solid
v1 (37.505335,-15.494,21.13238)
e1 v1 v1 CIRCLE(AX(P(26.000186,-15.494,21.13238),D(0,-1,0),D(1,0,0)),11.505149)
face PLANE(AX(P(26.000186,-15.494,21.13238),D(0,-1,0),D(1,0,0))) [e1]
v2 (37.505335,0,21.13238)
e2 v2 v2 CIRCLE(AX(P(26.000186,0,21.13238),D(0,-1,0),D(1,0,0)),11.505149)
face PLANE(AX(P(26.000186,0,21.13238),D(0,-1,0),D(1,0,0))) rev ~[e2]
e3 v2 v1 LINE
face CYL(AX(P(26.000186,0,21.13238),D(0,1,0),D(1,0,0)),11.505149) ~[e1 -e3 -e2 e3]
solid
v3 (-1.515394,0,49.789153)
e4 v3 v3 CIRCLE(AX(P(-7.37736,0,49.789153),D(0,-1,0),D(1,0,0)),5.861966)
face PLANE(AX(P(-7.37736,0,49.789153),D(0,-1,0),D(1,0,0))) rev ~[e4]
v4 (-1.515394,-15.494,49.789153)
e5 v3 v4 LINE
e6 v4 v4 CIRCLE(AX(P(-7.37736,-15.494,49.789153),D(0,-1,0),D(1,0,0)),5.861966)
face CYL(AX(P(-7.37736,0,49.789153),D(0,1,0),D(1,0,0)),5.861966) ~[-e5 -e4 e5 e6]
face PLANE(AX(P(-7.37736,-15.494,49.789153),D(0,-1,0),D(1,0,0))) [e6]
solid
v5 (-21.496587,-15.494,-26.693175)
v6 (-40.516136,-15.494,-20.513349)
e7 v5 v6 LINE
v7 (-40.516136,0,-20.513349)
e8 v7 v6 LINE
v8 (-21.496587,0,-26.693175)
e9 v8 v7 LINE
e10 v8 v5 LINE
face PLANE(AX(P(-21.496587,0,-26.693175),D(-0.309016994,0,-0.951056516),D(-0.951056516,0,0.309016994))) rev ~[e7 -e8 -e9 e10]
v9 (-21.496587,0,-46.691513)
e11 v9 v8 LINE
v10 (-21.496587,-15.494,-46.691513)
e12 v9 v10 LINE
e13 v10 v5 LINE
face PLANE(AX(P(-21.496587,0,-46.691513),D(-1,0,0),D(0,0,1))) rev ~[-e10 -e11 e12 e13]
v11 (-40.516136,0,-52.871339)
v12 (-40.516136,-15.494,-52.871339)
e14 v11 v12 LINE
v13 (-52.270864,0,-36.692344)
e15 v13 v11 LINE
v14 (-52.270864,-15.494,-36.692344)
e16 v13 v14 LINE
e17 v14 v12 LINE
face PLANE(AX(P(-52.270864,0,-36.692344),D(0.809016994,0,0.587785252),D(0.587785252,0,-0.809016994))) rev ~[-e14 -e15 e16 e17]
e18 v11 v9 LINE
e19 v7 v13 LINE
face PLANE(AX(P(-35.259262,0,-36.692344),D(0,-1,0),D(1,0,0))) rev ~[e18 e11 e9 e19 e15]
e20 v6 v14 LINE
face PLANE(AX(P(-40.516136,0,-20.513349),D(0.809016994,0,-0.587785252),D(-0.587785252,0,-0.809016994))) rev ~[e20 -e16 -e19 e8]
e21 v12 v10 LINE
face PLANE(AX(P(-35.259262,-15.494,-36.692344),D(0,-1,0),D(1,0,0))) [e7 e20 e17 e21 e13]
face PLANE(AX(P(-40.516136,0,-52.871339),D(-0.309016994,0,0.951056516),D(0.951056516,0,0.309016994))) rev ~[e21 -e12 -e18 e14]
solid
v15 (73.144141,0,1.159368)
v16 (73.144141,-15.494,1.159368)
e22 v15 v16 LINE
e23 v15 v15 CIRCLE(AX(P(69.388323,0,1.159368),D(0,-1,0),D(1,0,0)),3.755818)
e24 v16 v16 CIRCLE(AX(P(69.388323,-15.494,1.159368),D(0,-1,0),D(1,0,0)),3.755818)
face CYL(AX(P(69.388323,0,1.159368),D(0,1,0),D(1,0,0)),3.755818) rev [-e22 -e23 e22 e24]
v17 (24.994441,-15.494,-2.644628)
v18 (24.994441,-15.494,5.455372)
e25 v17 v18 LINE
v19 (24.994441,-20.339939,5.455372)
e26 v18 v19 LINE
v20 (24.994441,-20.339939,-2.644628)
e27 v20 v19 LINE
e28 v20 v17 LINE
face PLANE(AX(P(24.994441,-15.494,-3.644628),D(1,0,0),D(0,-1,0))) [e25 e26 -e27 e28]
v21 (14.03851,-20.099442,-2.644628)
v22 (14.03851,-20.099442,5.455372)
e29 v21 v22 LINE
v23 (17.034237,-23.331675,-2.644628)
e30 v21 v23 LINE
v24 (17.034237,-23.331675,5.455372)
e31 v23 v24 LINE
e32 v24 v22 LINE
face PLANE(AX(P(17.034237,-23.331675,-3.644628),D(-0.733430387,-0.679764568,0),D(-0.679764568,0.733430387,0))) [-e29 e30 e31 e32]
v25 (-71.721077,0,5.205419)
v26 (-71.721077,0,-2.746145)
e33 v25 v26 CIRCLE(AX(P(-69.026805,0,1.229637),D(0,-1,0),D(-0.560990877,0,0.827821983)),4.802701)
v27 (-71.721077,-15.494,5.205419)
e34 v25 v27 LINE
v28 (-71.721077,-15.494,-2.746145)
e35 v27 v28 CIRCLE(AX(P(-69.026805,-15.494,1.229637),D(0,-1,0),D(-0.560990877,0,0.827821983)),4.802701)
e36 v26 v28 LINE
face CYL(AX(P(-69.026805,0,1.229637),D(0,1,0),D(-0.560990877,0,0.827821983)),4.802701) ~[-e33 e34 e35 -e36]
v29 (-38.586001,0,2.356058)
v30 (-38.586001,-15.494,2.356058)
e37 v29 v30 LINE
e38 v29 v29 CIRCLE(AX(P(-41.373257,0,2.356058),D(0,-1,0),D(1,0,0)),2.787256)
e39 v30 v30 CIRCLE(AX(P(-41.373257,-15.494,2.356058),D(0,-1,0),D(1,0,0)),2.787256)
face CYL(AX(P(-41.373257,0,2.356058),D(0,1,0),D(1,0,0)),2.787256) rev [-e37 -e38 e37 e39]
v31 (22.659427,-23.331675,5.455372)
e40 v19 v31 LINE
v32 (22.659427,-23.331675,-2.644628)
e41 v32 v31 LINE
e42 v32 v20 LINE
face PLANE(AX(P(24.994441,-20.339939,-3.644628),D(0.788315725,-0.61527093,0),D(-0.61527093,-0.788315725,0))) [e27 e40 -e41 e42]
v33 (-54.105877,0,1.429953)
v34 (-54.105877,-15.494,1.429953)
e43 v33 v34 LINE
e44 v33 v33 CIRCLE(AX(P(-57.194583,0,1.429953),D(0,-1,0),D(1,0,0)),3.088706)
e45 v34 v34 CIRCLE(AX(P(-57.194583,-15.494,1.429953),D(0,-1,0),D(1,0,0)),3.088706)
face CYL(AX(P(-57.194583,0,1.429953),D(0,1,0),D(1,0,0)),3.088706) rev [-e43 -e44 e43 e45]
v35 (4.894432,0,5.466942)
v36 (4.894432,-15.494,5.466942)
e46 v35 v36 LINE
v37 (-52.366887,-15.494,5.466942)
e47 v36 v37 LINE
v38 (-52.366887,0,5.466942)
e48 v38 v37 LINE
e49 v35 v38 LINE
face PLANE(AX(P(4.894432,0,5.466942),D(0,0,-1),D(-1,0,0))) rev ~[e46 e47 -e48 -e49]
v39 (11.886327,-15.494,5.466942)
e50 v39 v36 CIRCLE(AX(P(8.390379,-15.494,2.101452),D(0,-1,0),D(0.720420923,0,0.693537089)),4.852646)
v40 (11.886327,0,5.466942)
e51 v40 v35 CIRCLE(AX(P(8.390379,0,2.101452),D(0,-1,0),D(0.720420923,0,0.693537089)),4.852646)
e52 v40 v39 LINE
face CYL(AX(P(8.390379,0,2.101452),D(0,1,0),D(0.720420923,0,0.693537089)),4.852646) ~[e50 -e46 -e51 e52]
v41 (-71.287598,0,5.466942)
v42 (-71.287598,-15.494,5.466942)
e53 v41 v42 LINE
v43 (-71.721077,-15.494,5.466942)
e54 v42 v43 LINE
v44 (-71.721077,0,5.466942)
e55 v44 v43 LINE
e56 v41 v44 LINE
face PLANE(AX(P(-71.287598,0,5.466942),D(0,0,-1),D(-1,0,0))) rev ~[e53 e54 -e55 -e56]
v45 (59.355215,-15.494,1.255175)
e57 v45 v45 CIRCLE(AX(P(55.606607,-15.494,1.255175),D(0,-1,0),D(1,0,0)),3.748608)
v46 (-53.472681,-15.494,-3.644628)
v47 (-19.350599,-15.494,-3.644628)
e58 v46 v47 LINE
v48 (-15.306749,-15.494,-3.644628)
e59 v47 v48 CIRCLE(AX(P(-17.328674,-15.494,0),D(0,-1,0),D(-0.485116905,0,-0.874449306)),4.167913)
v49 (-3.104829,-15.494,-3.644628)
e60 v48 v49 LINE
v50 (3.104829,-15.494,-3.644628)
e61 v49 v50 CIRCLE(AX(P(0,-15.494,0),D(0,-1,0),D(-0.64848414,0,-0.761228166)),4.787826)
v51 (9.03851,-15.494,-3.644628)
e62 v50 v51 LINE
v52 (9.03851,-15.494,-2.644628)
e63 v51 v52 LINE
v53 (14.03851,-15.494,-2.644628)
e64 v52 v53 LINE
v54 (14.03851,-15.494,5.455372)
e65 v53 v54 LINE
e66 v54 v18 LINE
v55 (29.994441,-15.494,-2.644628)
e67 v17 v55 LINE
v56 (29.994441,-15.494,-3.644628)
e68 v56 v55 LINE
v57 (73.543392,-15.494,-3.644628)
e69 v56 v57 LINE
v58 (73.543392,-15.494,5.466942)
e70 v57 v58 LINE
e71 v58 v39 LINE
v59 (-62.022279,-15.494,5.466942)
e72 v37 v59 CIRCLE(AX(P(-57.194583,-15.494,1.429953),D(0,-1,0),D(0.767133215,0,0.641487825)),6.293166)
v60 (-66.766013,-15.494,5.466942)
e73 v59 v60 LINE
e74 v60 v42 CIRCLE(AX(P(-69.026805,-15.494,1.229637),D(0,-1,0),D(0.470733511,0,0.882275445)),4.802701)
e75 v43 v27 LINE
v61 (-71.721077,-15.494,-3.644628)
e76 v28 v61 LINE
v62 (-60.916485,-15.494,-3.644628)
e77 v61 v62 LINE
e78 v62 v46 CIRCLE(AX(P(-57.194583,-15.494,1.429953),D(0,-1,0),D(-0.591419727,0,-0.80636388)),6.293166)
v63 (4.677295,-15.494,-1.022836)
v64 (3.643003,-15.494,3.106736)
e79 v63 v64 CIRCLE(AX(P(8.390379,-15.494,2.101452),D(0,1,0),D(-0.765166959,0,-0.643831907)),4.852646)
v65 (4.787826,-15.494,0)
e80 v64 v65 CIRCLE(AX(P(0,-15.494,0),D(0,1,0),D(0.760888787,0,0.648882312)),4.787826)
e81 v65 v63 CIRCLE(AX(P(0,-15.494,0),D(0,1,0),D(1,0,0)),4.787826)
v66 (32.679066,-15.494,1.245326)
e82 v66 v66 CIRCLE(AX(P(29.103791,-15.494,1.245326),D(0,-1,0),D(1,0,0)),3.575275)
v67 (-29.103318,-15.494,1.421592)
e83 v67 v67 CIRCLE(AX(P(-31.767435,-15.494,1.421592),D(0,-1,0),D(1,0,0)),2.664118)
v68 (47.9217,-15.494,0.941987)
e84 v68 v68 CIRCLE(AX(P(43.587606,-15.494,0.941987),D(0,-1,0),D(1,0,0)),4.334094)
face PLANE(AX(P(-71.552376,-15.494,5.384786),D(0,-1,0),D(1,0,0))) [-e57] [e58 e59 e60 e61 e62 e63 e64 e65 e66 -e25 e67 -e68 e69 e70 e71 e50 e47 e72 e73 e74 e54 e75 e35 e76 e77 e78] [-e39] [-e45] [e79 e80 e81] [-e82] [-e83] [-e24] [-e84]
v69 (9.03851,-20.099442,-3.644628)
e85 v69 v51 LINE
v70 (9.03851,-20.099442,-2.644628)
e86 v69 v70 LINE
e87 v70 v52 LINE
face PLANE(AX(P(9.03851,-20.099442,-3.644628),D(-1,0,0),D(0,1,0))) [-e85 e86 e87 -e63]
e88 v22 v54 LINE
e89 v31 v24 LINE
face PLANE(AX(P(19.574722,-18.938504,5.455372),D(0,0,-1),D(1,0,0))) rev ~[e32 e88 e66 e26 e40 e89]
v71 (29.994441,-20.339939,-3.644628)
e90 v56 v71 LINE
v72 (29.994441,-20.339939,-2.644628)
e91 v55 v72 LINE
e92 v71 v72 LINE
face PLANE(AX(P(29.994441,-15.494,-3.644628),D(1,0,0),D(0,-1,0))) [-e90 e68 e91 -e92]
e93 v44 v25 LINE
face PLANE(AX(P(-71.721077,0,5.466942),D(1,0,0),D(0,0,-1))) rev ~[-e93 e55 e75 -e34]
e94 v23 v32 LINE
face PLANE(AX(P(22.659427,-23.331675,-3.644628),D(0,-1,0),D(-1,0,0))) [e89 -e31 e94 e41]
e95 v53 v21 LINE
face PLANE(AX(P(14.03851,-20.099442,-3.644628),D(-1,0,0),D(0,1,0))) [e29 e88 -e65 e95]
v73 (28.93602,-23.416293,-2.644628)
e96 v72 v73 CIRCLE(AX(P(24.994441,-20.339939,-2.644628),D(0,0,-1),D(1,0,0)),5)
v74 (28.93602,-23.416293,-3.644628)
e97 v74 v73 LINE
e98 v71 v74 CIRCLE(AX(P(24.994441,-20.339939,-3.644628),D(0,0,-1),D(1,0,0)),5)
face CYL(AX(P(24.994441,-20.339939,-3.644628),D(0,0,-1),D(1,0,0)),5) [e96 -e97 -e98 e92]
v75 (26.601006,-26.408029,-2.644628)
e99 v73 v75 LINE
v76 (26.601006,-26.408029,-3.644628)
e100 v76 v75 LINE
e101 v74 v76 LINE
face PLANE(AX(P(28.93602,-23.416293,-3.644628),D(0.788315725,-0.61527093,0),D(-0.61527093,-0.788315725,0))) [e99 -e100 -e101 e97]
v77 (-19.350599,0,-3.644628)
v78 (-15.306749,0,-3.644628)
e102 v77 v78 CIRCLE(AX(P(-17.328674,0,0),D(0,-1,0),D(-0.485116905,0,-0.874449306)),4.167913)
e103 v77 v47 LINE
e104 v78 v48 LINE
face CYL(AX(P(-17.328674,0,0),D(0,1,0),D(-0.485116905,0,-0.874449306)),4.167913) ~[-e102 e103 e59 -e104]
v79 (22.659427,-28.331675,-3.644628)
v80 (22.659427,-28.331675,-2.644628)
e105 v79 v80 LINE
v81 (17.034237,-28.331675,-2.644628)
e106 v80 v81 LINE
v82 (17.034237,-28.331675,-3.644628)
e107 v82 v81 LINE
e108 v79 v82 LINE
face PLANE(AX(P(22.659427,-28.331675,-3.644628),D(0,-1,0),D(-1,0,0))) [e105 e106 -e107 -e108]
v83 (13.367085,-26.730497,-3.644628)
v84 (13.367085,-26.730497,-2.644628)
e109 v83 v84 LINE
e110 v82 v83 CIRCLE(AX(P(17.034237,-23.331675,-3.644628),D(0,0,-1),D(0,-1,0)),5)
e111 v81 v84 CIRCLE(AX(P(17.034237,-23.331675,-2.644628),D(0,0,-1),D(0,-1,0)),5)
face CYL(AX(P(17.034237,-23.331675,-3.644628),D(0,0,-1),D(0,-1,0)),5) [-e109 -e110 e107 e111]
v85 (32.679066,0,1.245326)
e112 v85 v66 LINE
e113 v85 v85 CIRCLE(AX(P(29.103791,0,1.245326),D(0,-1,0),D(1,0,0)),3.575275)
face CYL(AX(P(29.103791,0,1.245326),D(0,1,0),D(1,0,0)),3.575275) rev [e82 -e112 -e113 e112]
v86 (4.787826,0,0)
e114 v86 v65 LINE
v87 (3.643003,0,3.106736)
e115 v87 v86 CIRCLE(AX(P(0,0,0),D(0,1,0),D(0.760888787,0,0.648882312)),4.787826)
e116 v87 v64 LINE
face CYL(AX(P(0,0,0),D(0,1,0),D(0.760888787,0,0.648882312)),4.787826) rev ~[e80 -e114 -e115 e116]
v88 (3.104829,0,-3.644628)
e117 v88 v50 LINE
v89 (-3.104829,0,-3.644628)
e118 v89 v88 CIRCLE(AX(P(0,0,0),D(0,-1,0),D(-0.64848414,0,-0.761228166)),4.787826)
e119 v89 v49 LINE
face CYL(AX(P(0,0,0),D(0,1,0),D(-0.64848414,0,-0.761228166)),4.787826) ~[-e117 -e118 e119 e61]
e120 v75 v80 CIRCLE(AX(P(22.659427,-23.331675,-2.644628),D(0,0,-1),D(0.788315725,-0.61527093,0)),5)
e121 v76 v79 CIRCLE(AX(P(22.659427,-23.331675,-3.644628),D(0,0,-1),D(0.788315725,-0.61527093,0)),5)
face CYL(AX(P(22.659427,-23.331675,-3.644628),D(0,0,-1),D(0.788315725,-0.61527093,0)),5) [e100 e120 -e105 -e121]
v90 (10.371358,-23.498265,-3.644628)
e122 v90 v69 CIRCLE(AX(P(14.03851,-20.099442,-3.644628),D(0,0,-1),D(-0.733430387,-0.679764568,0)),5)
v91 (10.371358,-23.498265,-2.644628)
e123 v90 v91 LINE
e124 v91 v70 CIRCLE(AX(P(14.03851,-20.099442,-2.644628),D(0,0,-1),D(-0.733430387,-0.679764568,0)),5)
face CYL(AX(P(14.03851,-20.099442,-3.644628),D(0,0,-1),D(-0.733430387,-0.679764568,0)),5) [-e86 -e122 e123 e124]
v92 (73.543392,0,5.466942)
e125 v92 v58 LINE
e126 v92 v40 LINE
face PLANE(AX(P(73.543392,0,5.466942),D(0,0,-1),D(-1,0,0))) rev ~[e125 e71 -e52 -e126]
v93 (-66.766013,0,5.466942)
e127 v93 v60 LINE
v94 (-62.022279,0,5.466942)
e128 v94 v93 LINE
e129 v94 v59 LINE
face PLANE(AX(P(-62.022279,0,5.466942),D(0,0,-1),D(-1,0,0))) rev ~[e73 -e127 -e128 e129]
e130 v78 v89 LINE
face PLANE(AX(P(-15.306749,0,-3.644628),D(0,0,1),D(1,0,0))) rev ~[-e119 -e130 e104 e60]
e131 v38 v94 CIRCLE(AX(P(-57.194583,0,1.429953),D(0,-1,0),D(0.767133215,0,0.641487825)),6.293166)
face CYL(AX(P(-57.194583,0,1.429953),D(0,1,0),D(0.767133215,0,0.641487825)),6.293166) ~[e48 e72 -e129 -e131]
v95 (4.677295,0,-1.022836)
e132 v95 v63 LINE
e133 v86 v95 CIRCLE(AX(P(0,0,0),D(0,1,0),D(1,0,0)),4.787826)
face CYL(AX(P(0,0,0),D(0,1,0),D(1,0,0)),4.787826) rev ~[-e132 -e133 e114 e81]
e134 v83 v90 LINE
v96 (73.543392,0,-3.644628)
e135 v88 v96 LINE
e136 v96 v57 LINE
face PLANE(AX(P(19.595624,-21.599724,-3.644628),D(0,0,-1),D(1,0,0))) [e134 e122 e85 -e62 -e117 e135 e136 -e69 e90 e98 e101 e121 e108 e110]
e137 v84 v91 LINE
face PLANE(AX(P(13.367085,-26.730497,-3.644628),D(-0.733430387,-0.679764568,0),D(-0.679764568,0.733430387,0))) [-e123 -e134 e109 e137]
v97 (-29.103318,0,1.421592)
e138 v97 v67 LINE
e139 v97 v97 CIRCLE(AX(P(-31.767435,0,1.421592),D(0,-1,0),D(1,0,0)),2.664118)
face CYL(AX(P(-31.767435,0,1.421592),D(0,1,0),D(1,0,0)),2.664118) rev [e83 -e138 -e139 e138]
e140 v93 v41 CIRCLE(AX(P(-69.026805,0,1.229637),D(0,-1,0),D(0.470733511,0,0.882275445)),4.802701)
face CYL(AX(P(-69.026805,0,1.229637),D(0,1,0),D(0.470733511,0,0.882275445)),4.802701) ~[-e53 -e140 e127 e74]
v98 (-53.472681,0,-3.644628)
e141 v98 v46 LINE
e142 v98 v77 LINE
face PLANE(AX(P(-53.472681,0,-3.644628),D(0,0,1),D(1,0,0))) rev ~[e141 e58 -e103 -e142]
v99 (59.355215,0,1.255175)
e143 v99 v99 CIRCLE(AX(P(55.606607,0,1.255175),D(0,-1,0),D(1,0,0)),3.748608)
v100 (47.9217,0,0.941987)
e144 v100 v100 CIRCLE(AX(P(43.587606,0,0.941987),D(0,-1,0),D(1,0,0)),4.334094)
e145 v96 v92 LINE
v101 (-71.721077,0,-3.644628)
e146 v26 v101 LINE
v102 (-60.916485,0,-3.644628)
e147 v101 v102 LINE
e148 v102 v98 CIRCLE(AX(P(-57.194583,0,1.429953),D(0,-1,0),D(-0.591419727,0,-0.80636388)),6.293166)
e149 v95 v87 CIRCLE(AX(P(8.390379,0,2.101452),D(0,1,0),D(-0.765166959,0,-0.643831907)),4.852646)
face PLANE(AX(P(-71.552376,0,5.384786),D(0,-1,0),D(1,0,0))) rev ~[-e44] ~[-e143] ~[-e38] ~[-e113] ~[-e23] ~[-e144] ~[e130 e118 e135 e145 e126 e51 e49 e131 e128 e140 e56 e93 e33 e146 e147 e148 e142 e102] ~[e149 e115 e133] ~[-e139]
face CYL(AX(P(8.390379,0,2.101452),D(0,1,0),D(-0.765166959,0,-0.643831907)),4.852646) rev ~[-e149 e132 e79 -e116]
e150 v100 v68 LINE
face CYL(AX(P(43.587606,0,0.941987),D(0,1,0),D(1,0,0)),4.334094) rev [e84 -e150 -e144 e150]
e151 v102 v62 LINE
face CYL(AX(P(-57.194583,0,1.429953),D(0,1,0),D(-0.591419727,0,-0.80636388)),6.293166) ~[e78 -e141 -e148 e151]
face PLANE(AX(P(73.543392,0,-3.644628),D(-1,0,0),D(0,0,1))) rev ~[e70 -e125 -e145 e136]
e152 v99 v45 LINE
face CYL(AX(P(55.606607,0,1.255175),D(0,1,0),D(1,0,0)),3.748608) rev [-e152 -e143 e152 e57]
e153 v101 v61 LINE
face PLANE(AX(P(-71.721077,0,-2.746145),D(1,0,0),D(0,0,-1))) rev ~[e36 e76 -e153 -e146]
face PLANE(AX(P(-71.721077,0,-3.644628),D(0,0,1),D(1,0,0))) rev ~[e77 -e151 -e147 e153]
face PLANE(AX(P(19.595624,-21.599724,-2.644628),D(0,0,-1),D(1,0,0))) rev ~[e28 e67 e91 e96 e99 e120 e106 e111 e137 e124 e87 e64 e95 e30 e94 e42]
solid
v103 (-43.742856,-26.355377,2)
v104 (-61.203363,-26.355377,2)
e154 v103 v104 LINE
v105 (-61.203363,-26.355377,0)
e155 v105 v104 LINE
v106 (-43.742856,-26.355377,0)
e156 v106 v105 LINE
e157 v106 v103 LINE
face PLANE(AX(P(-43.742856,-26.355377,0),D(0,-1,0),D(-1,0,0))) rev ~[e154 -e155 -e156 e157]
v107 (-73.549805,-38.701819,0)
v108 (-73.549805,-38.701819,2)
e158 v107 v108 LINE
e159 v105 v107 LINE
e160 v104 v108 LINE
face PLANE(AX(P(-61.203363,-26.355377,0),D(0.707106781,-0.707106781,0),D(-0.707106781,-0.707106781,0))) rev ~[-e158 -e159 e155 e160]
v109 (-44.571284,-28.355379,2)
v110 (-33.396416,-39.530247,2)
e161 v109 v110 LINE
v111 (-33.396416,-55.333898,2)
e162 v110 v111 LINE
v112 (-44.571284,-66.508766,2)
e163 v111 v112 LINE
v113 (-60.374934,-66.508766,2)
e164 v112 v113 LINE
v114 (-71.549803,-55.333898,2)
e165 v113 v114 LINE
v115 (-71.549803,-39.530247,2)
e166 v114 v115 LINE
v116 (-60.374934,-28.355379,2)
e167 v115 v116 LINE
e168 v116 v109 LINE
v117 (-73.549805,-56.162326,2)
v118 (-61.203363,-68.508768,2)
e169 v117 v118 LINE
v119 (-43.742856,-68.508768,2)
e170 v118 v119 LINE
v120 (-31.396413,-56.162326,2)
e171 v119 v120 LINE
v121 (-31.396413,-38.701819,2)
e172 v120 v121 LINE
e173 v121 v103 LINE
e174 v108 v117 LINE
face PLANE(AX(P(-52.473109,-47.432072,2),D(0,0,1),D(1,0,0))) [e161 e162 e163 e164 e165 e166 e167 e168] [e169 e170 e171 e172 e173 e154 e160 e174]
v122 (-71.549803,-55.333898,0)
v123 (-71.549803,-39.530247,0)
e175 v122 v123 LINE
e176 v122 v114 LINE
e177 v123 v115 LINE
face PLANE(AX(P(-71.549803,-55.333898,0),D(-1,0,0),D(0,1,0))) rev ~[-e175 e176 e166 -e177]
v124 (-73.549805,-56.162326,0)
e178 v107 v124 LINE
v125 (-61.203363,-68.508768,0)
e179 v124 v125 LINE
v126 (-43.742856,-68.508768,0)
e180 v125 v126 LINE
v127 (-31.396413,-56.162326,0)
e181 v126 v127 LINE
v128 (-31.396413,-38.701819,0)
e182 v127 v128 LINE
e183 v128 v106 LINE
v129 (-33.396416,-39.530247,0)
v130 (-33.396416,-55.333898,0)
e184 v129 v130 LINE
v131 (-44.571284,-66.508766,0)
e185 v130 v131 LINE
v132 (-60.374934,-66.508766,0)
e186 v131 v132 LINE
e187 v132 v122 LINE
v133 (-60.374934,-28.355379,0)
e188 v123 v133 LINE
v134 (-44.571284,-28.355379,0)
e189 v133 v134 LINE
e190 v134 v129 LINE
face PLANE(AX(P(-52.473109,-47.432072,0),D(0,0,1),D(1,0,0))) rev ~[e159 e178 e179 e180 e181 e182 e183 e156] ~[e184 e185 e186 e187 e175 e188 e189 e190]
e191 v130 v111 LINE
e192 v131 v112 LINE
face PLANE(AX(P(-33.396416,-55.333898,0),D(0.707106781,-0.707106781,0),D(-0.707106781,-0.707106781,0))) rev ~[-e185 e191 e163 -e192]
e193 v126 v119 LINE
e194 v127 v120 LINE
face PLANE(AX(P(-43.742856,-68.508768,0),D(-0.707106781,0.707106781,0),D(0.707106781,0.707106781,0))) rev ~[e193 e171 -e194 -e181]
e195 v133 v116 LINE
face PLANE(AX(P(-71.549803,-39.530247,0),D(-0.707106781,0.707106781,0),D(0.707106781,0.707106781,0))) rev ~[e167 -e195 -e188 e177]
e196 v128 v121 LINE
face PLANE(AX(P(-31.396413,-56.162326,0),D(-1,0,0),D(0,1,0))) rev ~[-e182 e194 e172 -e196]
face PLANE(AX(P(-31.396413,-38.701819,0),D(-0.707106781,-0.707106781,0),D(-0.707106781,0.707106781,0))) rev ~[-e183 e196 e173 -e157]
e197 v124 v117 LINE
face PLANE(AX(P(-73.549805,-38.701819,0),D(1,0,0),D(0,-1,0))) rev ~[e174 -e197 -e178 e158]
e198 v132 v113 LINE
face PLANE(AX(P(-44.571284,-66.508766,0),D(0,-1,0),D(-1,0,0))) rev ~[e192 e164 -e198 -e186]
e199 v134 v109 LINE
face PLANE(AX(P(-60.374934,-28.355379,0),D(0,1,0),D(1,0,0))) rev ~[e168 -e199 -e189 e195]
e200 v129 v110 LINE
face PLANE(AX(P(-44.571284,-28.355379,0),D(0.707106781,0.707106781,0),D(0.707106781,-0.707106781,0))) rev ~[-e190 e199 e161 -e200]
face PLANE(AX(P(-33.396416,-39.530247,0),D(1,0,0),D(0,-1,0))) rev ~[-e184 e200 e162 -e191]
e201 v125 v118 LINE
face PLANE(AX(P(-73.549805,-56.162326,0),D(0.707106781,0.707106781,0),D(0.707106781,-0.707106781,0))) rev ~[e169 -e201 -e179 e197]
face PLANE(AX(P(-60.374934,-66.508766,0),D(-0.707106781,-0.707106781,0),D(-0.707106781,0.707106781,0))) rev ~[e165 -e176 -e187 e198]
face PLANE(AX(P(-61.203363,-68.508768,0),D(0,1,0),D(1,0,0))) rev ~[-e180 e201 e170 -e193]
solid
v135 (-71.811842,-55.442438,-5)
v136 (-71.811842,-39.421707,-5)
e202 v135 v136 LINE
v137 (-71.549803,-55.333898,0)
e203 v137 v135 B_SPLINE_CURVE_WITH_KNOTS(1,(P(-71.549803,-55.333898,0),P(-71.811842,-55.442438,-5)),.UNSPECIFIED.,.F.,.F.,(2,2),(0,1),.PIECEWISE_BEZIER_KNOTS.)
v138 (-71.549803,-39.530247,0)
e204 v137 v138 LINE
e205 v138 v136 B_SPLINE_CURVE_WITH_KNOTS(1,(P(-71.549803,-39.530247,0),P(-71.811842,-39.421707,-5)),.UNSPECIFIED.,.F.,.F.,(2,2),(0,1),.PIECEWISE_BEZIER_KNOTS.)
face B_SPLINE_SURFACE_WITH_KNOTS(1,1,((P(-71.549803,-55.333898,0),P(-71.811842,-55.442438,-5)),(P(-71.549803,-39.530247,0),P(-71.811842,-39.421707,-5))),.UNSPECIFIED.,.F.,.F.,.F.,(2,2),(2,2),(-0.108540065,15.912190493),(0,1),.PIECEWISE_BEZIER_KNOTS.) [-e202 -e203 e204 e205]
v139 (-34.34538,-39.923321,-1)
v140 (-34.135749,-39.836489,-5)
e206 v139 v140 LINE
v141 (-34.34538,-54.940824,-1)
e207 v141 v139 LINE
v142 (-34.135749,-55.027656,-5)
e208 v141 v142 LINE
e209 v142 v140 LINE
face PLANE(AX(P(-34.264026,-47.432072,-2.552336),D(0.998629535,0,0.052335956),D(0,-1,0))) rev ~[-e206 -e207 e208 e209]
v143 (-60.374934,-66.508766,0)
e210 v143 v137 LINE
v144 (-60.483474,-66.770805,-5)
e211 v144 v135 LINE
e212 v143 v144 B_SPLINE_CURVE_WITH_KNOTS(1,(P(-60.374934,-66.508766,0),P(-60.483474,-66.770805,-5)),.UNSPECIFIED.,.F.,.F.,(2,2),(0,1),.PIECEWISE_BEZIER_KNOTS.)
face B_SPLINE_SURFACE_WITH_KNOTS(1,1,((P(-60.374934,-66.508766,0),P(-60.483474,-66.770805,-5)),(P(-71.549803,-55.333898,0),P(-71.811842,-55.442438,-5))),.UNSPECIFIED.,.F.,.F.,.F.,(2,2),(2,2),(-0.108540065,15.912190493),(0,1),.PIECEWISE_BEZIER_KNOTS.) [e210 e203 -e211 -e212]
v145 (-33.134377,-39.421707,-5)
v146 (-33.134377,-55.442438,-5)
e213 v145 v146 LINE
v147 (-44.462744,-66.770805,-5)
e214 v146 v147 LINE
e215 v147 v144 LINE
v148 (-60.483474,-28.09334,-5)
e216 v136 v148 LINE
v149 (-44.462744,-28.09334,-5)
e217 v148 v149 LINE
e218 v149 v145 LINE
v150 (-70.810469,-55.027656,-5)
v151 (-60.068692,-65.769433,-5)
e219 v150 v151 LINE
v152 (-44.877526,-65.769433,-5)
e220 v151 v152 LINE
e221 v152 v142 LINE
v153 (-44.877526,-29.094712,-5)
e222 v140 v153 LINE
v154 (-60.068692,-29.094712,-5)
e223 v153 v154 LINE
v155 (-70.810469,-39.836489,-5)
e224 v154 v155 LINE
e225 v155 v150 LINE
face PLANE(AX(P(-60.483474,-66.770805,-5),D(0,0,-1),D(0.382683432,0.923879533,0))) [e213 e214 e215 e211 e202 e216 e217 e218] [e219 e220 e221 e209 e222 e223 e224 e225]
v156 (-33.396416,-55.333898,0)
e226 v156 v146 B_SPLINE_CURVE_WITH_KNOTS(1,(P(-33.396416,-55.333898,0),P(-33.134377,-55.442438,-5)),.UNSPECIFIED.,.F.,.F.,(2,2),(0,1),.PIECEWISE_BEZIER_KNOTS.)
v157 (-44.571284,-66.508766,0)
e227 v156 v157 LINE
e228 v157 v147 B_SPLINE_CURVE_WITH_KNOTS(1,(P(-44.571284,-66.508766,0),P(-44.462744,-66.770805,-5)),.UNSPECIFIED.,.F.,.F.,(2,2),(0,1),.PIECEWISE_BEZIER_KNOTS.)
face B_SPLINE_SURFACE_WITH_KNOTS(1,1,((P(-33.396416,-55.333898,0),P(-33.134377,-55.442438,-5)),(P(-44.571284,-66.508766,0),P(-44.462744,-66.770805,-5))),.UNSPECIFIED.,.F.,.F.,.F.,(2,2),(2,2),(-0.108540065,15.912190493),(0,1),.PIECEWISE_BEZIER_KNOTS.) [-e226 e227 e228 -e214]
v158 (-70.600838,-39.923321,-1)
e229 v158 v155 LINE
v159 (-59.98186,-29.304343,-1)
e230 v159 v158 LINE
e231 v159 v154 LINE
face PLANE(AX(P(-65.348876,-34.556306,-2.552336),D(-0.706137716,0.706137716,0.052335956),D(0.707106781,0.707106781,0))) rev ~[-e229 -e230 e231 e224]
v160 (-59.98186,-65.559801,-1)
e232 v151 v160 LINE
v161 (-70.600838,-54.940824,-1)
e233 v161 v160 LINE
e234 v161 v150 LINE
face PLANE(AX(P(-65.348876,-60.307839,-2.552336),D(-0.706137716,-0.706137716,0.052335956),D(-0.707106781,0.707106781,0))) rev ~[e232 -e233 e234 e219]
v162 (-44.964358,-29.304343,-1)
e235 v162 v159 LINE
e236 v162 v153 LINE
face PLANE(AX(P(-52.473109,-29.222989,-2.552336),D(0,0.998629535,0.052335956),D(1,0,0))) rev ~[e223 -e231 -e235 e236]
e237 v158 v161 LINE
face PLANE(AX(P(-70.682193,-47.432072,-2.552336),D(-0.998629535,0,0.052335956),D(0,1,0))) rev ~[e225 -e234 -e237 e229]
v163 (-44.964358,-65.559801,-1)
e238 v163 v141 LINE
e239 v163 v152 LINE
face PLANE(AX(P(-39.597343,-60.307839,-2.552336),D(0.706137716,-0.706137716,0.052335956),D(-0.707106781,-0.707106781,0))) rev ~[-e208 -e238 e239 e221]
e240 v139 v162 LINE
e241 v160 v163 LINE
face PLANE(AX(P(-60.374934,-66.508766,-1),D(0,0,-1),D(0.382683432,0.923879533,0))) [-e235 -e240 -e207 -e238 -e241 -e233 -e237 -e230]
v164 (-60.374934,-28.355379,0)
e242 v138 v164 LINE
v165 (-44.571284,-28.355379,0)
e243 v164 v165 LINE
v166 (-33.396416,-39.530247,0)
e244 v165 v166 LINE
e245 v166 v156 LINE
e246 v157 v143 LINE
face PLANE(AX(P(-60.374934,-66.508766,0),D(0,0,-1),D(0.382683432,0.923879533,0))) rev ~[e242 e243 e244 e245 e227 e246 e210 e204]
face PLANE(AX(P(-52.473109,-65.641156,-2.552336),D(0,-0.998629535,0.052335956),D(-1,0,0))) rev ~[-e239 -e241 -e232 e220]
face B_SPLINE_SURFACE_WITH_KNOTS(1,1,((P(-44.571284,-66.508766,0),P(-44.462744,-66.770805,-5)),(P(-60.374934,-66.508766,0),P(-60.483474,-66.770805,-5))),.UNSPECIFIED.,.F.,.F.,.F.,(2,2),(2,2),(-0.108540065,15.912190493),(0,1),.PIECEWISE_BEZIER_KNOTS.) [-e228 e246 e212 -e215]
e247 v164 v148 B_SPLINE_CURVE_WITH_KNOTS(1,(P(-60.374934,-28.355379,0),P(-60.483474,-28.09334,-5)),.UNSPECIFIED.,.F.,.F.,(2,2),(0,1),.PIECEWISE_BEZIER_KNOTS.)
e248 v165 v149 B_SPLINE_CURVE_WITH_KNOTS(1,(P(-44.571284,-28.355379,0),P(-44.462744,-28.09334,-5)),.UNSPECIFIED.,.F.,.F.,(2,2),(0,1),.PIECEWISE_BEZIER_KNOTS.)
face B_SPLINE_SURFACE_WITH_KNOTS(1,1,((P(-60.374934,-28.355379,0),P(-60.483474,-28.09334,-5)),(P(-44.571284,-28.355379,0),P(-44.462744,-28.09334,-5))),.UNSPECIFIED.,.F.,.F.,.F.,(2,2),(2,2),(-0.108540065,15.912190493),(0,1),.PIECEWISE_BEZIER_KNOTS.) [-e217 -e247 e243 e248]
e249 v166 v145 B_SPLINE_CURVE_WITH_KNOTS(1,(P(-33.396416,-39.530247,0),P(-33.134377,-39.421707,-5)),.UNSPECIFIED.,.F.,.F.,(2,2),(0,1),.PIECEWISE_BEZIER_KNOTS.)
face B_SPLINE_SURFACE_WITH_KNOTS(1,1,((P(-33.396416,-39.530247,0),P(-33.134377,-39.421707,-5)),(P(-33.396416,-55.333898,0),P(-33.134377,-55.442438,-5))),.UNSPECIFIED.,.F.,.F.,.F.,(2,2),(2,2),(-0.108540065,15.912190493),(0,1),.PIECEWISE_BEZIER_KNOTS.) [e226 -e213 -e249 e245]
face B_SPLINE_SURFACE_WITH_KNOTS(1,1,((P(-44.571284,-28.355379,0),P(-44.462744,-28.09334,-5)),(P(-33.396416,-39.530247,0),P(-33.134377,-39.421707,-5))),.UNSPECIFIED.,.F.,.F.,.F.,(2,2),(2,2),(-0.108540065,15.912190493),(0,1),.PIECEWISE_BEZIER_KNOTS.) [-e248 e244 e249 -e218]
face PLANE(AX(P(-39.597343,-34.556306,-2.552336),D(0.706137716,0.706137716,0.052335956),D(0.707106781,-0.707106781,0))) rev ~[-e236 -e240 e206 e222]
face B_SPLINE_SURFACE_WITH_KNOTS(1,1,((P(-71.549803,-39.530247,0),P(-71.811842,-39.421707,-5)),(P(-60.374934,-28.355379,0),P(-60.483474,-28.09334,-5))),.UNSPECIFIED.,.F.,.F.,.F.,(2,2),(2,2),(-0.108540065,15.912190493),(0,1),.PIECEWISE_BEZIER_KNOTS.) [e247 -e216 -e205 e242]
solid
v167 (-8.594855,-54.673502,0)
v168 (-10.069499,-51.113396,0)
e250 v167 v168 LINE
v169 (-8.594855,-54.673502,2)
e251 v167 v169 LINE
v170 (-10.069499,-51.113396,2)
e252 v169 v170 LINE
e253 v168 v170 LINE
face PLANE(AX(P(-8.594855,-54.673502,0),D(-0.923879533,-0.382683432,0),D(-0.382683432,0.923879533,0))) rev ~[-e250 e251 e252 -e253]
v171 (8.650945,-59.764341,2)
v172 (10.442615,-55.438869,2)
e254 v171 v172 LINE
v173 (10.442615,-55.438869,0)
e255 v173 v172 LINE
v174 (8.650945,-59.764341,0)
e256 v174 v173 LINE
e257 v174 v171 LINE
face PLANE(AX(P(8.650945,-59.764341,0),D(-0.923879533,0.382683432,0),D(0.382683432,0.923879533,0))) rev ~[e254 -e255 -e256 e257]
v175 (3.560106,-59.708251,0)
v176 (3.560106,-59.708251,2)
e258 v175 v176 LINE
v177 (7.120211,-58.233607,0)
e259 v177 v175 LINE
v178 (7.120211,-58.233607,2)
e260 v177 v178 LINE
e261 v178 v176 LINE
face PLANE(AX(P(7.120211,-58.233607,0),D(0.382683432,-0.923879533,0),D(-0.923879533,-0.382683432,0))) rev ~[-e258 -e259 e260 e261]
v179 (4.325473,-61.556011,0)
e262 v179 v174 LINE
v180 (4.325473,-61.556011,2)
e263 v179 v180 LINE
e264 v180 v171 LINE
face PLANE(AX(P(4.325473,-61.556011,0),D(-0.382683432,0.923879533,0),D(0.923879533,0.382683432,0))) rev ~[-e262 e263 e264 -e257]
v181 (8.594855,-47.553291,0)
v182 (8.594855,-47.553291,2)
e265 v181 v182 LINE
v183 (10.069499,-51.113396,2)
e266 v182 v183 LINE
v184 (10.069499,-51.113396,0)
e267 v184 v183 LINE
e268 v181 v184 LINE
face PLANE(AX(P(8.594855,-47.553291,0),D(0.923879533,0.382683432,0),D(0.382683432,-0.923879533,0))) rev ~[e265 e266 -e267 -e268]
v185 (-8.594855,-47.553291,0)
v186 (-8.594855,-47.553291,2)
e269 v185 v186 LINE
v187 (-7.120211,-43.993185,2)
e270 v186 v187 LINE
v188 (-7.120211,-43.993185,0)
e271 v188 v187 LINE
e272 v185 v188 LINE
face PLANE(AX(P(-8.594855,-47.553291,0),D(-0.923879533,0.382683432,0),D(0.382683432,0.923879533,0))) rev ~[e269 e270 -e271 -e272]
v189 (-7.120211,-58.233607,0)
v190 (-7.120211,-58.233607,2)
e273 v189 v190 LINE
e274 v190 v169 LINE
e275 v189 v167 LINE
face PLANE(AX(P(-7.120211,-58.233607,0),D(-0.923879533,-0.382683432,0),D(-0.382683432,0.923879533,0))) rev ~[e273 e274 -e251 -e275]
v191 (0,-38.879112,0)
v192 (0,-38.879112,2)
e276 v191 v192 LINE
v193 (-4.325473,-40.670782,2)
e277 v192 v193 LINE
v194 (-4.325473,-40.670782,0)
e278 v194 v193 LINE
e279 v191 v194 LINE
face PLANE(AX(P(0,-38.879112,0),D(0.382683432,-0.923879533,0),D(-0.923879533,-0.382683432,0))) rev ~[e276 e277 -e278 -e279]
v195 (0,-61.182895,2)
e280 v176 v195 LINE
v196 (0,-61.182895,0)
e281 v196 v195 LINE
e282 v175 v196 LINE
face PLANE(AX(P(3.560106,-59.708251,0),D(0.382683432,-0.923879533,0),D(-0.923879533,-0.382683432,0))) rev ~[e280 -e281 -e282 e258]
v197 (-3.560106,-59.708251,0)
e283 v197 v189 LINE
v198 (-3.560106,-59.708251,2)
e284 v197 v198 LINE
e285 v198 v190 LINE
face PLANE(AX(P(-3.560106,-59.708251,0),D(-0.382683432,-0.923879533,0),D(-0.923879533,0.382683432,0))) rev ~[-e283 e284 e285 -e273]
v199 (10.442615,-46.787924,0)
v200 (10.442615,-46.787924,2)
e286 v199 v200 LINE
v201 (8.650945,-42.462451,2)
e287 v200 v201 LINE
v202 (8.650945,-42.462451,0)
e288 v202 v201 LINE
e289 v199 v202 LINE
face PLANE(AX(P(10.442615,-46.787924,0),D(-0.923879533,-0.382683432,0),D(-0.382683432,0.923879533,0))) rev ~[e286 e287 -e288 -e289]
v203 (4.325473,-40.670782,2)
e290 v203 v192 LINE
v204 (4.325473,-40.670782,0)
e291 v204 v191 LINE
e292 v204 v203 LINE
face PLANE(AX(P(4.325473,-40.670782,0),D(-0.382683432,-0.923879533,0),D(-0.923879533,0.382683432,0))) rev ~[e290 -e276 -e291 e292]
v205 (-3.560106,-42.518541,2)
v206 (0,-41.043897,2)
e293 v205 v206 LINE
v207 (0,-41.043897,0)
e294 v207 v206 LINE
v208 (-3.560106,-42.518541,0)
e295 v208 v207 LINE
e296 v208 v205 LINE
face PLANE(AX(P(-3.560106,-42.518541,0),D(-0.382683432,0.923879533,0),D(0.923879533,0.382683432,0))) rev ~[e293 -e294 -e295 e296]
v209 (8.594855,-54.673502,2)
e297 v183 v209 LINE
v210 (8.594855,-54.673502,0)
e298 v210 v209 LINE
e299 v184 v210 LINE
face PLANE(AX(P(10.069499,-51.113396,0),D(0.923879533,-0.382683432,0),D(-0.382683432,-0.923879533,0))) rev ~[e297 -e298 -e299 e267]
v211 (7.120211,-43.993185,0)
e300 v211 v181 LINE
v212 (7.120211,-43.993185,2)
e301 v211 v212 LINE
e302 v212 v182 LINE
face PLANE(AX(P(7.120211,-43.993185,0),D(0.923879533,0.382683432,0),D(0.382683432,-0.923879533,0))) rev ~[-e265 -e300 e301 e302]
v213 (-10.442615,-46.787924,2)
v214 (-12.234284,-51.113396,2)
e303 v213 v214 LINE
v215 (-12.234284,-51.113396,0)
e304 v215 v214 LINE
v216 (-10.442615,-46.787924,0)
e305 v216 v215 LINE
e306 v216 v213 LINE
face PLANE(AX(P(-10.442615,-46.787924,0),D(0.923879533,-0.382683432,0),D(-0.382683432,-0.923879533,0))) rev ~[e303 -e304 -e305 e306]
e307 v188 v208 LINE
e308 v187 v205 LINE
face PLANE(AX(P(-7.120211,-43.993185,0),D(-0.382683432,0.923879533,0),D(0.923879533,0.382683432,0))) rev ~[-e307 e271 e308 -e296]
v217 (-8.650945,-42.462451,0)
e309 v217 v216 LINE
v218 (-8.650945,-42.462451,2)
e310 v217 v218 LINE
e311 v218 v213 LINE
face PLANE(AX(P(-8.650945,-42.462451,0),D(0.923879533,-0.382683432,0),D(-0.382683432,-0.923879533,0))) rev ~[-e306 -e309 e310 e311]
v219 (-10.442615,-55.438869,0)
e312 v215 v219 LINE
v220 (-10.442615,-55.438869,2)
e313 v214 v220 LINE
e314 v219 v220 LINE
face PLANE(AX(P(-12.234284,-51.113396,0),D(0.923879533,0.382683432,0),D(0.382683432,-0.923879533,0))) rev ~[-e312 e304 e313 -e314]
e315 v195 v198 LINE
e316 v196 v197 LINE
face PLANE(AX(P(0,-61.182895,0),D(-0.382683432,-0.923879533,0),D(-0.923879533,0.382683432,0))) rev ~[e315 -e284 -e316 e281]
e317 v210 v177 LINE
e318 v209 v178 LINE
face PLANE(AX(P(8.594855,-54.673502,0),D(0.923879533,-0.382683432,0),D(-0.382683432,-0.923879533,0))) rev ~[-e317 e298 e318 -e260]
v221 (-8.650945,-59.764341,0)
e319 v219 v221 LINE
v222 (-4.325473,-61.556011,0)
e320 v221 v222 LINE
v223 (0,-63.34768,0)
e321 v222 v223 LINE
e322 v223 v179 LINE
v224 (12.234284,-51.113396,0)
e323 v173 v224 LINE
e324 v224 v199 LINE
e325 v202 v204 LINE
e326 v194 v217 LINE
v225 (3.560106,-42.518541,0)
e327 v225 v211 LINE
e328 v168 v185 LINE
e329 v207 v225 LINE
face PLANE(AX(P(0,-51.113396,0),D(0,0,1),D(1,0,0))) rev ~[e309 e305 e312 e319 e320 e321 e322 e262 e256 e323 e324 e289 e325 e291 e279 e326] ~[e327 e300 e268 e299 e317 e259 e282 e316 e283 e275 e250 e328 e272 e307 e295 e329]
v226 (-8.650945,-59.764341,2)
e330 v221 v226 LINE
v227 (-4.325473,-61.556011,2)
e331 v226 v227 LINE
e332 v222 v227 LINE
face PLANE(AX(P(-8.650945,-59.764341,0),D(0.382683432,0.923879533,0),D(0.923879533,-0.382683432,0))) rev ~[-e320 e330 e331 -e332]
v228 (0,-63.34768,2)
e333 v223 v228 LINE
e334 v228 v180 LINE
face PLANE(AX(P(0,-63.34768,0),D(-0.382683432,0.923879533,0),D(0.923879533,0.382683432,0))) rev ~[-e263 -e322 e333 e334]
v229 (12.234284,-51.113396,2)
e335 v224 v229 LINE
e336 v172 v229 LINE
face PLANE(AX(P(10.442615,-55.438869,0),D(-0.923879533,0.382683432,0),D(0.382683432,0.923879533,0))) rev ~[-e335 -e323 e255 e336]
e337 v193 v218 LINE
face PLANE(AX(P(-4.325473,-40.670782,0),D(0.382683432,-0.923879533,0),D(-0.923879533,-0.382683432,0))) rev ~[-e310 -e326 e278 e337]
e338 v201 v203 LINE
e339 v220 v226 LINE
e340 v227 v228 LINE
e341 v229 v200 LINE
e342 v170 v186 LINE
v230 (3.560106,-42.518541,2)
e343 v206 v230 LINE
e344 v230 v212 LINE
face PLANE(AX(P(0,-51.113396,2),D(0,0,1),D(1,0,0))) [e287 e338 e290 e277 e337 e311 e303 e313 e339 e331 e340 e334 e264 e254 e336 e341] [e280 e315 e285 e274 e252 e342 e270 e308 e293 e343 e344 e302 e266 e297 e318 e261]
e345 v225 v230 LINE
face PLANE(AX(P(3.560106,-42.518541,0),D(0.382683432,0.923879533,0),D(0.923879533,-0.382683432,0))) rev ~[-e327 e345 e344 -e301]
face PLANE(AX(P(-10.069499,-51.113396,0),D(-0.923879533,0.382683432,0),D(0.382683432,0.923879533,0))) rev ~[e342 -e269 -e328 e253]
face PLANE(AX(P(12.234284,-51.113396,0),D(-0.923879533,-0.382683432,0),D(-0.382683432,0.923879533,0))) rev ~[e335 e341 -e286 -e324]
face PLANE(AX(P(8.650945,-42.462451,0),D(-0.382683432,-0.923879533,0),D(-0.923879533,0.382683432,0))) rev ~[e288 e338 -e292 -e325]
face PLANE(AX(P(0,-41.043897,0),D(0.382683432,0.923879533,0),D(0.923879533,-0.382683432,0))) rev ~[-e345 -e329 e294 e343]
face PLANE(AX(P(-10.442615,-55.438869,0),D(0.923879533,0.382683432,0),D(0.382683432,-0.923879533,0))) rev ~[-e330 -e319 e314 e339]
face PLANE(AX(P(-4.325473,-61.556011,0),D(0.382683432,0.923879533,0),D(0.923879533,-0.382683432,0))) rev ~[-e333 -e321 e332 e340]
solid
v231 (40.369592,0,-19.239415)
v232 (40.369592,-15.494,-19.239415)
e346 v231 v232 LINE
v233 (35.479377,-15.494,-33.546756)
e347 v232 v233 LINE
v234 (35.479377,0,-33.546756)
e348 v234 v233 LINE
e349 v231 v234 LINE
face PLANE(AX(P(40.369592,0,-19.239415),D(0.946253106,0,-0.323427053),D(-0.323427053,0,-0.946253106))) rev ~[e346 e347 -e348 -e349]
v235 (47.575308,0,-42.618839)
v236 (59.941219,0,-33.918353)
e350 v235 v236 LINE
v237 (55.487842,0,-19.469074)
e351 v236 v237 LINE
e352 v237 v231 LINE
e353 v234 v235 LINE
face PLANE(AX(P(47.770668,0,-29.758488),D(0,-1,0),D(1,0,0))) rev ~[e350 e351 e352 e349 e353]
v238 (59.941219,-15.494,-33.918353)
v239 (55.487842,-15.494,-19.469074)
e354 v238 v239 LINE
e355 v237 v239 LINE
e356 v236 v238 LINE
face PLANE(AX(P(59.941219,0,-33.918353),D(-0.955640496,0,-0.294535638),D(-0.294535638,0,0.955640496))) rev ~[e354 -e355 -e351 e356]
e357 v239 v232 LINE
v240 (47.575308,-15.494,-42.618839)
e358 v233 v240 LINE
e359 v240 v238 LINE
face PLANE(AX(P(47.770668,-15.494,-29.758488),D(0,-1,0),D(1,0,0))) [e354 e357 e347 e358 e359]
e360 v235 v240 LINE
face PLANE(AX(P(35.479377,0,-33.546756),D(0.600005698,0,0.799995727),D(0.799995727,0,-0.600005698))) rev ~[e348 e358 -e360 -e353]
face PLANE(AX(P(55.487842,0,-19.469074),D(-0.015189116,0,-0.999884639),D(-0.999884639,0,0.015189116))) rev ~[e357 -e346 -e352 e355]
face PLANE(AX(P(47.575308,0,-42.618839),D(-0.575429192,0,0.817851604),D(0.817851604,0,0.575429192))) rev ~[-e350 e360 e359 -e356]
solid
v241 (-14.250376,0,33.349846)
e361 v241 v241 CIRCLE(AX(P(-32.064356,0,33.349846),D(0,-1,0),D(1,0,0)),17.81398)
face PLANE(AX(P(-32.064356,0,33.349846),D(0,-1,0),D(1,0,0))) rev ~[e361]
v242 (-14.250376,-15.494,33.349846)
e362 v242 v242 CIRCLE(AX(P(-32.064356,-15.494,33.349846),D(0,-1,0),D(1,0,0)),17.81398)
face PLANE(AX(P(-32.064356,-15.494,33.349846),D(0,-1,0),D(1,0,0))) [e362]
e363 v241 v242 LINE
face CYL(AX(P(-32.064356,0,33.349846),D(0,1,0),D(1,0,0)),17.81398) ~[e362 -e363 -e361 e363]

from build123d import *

# Parameters (mm, degrees)
F0_R     = 17.8139800412
F1_DEPTH = 15.494
F0_R_2   = 11.5051487887
F0_R_3   = 5.8619659801
F0_R_4   = 3.0887061563
F0_R_5   = 2.7872555457
F0_R_6   = 2.6641177262
F0_R_7   = 3.5752749696
F0_R_8   = 4.3340936332
F0_R_9   = 3.7486076205
F0_R_10  = 3.7558182647
F3_DEPTH = 9.1
F4_DEPTH = 1
F6_DEPTH = 2
F8_DEPTH = 5
F8_TAPER = -3
F9_T     = -1


with BuildPart() as f1:
    # F0 (on Front) → F1 (new body)
    with BuildSketch(Plane.XZ):
        with Locations((-32.0643559098, 33.3498455584)):
            Circle(F0_R)
    extrude(amount=F1_DEPTH)


with BuildPart() as f1b:
    # F0 (on Front) → F1, piece 2 (new body)
    with BuildSketch(Plane.XZ):
        with Locations((26.0001858672, 21.1323804719)):
            Circle(F0_R_2)
    extrude(amount=F1_DEPTH)


with BuildPart() as f1c:
    # F0 (on Front) → F1, piece 3 (new body)
    with BuildSketch(Plane.XZ):
        Polygon((-21.4965865016, -32.4069848968), (-21.4965865016, -26.6931748016), (-40.5161358874, -20.5133485927), (-52.2708638586, -36.6923436522), (-40.5161358874, -52.8713387118), (-21.4965865016, -46.6915125029), (-21.4965865016, -40.9777024077), align=None)
    extrude(amount=F1_DEPTH)


with BuildPart() as f1d:
    # F0 (on Front) → F1, piece 4 (new body)
    with BuildSketch(Plane.XZ):
        with Locations((-7.3773595504, 49.7891530395)):
            Circle(F0_R_3)
    extrude(amount=F1_DEPTH)


with BuildPart() as f1e:
    # F0 (on Front) → F1, piece 5 (new body)
    with BuildSketch(Plane.XZ):
        Polygon((47.5753079159, -42.618838899), (59.94121926, -33.9183529688), (55.4878421774, -19.4690743935), (40.3695924316, -19.2394150511), (35.4793773209, -33.5467563471), align=None)
    extrude(amount=F1_DEPTH)


with BuildPart() as f1f:
    # F0 (on Front) → F1, piece 6 (new body)
    with BuildSketch(Plane.XZ):
        with BuildLine():
            Line((-71.2875978137, 5.4669422098), (-71.7210769653, 5.4669422098))
            Line((-71.7210769653, 5.4669422098), (-71.7210769653, 5.2054185065))
            ThreePointArc((-71.7210769653, 5.2054185065), (-71.5077857348, 5.341896038), (-71.2875978137, 5.4669422098))
        make_face()
        with BuildLine():
            ThreePointArc((-66.7660131072, 5.4669422098), (-69.0268054605, 6.032338058), (-71.2875978137, 5.4669422098))
            Line((-71.2875978137, 5.4669422098), (-66.7660131072, 5.4669422098))
        make_face()
        with BuildLine():
            Line((-66.7660131072, 5.4669422098), (-71.2875978137, 5.4669422098))
            ThreePointArc((-71.2875978137, 5.4669422098), (-71.5077857348, 5.341896038), (-71.7210769653, 5.2054185065))
            Line((-71.7210769653, 5.2054185065), (-71.7210769653, -2.7461446001))
            ThreePointArc((-71.7210769653, -2.7461446001), (-66.7766768898, -3.0133406943), (-64.2241043557, 1.2296369532))
            ThreePointArc((-64.2241043557, 1.2296369532), (-64.9083198265, 3.700267234), (-66.7660131072, 5.4669422098))
        make_face()
        with BuildLine():
            Line((-71.7210769653, -2.7461446001), (-71.7210769653, 5.2054185065))
            ThreePointArc((-71.7210769653, 5.2054185065), (-73.8295065652, 1.2296369532), (-71.7210769653, -2.7461446001))
        make_face()
        with BuildLine():
            Line((-62.0222794174, 5.4669422098), (-66.7660131072, 5.4669422098))
            ThreePointArc((-66.7660131072, 5.4669422098), (-64.9083198265, 3.700267234), (-64.2241043557, 1.2296369532))
            ThreePointArc((-64.2241043557, 1.2296369532), (-66.7766768898, -3.0133406943), (-71.7210769653, -2.7461446001))
            Line((-71.7210769653, -2.7461446001), (-71.7210769653, -3.6446282174))
            Line((-71.7210769653, -3.6446282174), (-60.9164853511, -3.6446282174))
            ThreePointArc((-60.9164853511, -3.6446282174), (-63.4419095605, 0.6717680934), (-62.0222794174, 5.4669422098))
        make_face()
        with BuildLine():
            ThreePointArc((-52.3668868185, 5.4669422098), (-57.194583118, 7.7231186661), (-62.0222794174, 5.4669422098))
            Line((-62.0222794174, 5.4669422098), (-52.3668868185, 5.4669422098))
        make_face()
        with BuildLine():
            Line((-52.3668868185, 5.4669422098), (-62.0222794174, 5.4669422098))
            ThreePointArc((-62.0222794174, 5.4669422098), (-63.4419095605, 0.6717680934), (-60.9164853511, -3.6446282174))
            Line((-60.9164853511, -3.6446282174), (-53.4726808848, -3.6446282174))
            ThreePointArc((-53.4726808848, -3.6446282174), (-51.5809176909, -1.4144611563), (-50.9014175986, 1.4299531467))
            ThreePointArc((-50.9014175986, 1.4299531467), (-51.2791193093, 3.5773283311), (-52.3668868185, 5.4669422098))
        make_face()
        with Locations((-57.194583118, 1.4299531467)):
            Circle(F0_R_4, mode=Mode.SUBTRACT)
        with BuildLine():
            Line((4.8944315217, 5.4669422098), (-52.3668868185, 5.4669422098))
            ThreePointArc((-52.3668868185, 5.4669422098), (-51.2791193093, 3.5773283311), (-50.9014175986, 1.4299531467))
            ThreePointArc((-50.9014175986, 1.4299531467), (-51.5809176909, -1.4144611563), (-53.4726808848, -3.6446282174))
            Line((-53.4726808848, -3.6446282174), (-19.3505987984, -3.6446282174))
            ThreePointArc((-19.3505987984, -3.6446282174), (-19.4434185248, 3.5915665557), (-13.1607614458, 0))
            ThreePointArc((-13.1607614458, 0), (-13.737107418, -2.1147445511), (-15.3067491489, -3.6446282174))
            Line((-15.3067491489, -3.6446282174), (-3.1048294077, -3.6446282174))
            ThreePointArc((-3.1048294077, -3.6446282174), (-3.3863899314, 3.3846186974), (3.6430033287, 3.1067357855))
            ThreePointArc((3.6430033287, 3.1067357855), (4.1031027455, 4.374651181), (4.8944315217, 5.4669422098))
        make_face()
        with Locations((-41.3732565939, 2.3560577538)):
            Circle(F0_R_5, mode=Mode.SUBTRACT)
        with Locations((-31.7674353719, 1.4215917327)):
            Circle(F0_R_6, mode=Mode.SUBTRACT)
        with BuildLine():
            Line((-53.4726808848, -3.6446282174), (-60.9164853511, -3.6446282174))
            ThreePointArc((-60.9164853511, -3.6446282174), (-57.194583118, -4.8632123727), (-53.4726808848, -3.6446282174))
        make_face()
        with BuildLine():
            ThreePointArc((11.8863267549, 5.4669422098), (8.3903791383, 6.9540981905), (4.8944315217, 5.4669422098))
            Line((4.8944315217, 5.4669422098), (11.8863267549, 5.4669422098))
        make_face()
        with BuildLine():
            Line((11.8863267549, 5.4669422098), (4.8944315217, 5.4669422098))
            ThreePointArc((4.8944315217, 5.4669422098), (4.1031027455, 4.374651181), (3.6430033287, 3.1067357855))
            ThreePointArc((3.6430033287, 3.1067357855), (4.4925130813, 1.6554777885), (4.7878262807, 0))
            ThreePointArc((4.7878262807, 0), (4.7601132197, -0.5143954019), (4.6772948562, -1.0228359214))
            ThreePointArc((4.6772948562, -1.0228359214), (10.0531913375, -2.4574102008), (13.2430250061, 2.1014523227))
            ThreePointArc((13.2430250061, 2.1014523227), (12.8910883976, 3.915780871), (11.8863267549, 5.4669422098))
        make_face()
        with BuildLine():
            Line((73.5433921218, 5.4669422098), (11.8863267549, 5.4669422098))
            ThreePointArc((11.8863267549, 5.4669422098), (12.8910883976, 3.915780871), (13.2430250061, 2.1014523227))
            ThreePointArc((13.2430250061, 2.1014523227), (10.0531913375, -2.4574102008), (4.6772948562, -1.0228359214))
            ThreePointArc((4.6772948562, -1.0228359214), (4.1059485172, -2.4626139098), (3.1048294077, -3.6446282174))
            Line((3.1048294077, -3.6446282174), (73.5433921218, -3.6446282174))
            Line((73.5433921218, -3.6446282174), (73.5433921218, 5.4669422098))
        make_face()
        with Locations((29.1037913412, 1.2453256641)):
            Circle(F0_R_7, mode=Mode.SUBTRACT)
        with Locations((43.5876064003, 0.941987324)):
            Circle(F0_R_8, mode=Mode.SUBTRACT)
        with Locations((55.6066073477, 1.2551748659)):
            Circle(F0_R_9, mode=Mode.SUBTRACT)
        with Locations((69.3883225322, 1.1593680829)):
            Circle(F0_R_10, mode=Mode.SUBTRACT)
        with BuildLine():
            ThreePointArc((4.6772948562, -1.0228359214), (3.683130806, 0.9224760478), (3.6430033287, 3.1067357855))
            ThreePointArc((3.6430033287, 3.1067357855), (-3.3863899314, 3.3846186974), (-3.1048294077, -3.6446282174))
            Line((-3.1048294077, -3.6446282174), (3.1048294077, -3.6446282174))
            ThreePointArc((3.1048294077, -3.6446282174), (4.1059485172, -2.4626139098), (4.6772948562, -1.0228359214))
        make_face()
        with BuildLine():
            ThreePointArc((-13.1607614458, 0), (-19.4434185248, 3.5915665557), (-19.3505987984, -3.6446282174))
            Line((-19.3505987984, -3.6446282174), (-15.3067491489, -3.6446282174))
            ThreePointArc((-15.3067491489, -3.6446282174), (-13.737107418, -2.1147445511), (-13.1607614458, 0))
        make_face()
        with BuildLine():
            Line((-15.3067491489, -3.6446282174), (-19.3505987984, -3.6446282174))
            ThreePointArc((-19.3505987984, -3.6446282174), (-17.3286739737, -4.1679125279), (-15.3067491489, -3.6446282174))
        make_face()
        with BuildLine():
            Line((3.1048294077, -3.6446282174), (-3.1048294077, -3.6446282174))
            ThreePointArc((-3.1048294077, -3.6446282174), (0, -4.7878262807), (3.1048294077, -3.6446282174))
        make_face()
    extrude(amount=F1_DEPTH)

    # F2 (on face) → F3 (join)
    with BuildSketch(Plane(origin=(0, 0, -3.6446282174), x_dir=(1, 0, 0), z_dir=(0, 0, -1))):
        Polygon((14.038509801, 20.099441715), (14.038509801, 15.494), (24.9944411963, 15.494), (24.9944411963, 20.3399387295), (22.6594273512, 23.3316746354), (17.0342370776, 23.3316746354), align=None)
    extrude(amount=-F3_DEPTH)

    # F2 (on face) → F4 (join)
    with BuildSketch(Plane(origin=(0, 0, -3.6446282174), x_dir=(1, 0, 0), z_dir=(0, 0, -1))):
        with BuildLine():
            Line((9.038509801, 20.099441715), (9.038509801, 15.494))
            Line((9.038509801, 15.494), (14.038509801, 15.494))
            Line((14.038509801, 15.494), (14.038509801, 20.099441715))
            Line((14.038509801, 20.099441715), (17.0342370776, 23.3316746354))
            Line((17.0342370776, 23.3316746354), (22.6594273512, 23.3316746354))
            Line((22.6594273512, 23.3316746354), (24.9944411963, 20.3399387295))
            Line((24.9944411963, 20.3399387295), (24.9944411963, 15.494))
            Line((24.9944411963, 15.494), (29.9944411963, 15.494))
            Line((29.9944411963, 15.494), (29.9944411963, 20.3399387295))
            ThreePointArc((29.9944411963, 20.3399387295), (29.7224372376, 21.9666081592), (28.9360198229, 23.4162933791))
            Line((28.9360198229, 23.4162933791), (26.6010059778, 26.408029285))
            ThreePointArc((26.6010059778, 26.408029285), (24.852396429, 27.8251016821), (22.6594273512, 28.3316746354))
            Line((22.6594273512, 28.3316746354), (17.0342370776, 28.3316746354))
            ThreePointArc((17.0342370776, 28.3316746354), (15.0335014878, 27.9139292224), (13.3670851442, 26.7304974754))
            Line((13.3670851442, 26.7304974754), (10.3713578676, 23.4982645549))
            ThreePointArc((10.3713578676, 23.4982645549), (9.3836328066, 21.9248513036), (9.038509801, 20.099441715))
        make_face()
    extrude(amount=-F4_DEPTH)


with BuildPart() as f6:
    # F5 (on Top) → F6 (new body)
    with BuildSketch(Plane.XY):
        Polygon((12.2342839544, -51.1133961294), (10.4426145507, -46.7879235559), (8.6509451471, -42.4624509823), (4.3254725735, -40.6707815787), (0, -38.8791121751), (-4.3254725735, -40.6707815787), (-8.6509451471, -42.4624509823), (-10.4426145507, -46.7879235559), (-12.2342839544, -51.1133961294), (-10.4426145507, -55.438868703), (-8.6509451471, -59.7643412765), (-4.3254725735, -61.5560106802), (0, -63.3476800838), (4.3254725735, -61.5560106802), (8.6509451471, -59.7643412765), (10.4426145507, -55.438868703), align=None)
        Polygon((0, -41.0438969928), (3.5601055613, -42.5185409998), (7.1202111227, -43.9931850067), (8.5948551297, -47.5532905681), (10.0694991366, -51.1133961294), (8.5948551297, -54.6735016908), (7.1202111227, -58.2336072521), (3.5601055613, -59.7082512591), (0, -61.1828952661), (-3.5601055613, -59.7082512591), (-7.1202111227, -58.2336072521), (-8.5948551297, -54.6735016908), (-10.0694991366, -51.1133961294), (-8.5948551297, -47.5532905681), (-7.1202111227, -43.9931850067), (-3.5601055613, -42.5185409998), align=None, mode=Mode.SUBTRACT)
    extrude(amount=F6_DEPTH)


with BuildPart() as f6b:
    # F5 (on Top) → F6, piece 2 (new body)
    with BuildSketch(Plane.XY):
        Polygon((-43.7428559218, -68.5087683652), (-31.3964133109, -56.1623257543), (-31.3964133109, -38.701819167), (-43.7428559218, -26.3553765561), (-61.2033625092, -26.3553765561), (-73.5498051201, -38.701819167), (-73.5498051201, -56.1623257543), (-61.2033625092, -68.5087683652), align=None)
        Polygon((-60.3749344297, -66.5087660603), (-71.5498028151, -55.3338976749), (-71.5498028151, -39.5302472464), (-60.3749344297, -28.355378861), (-44.5712840013, -28.355378861), (-33.3964156159, -39.5302472464), (-33.3964156159, -55.3338976749), (-44.5712840013, -66.5087660603), align=None, mode=Mode.SUBTRACT)
    extrude(amount=F6_DEPTH)


with BuildPart() as f8:
    # F7 (on face) → F8 (new body)
    with BuildSketch(Plane(origin=(0, 0, 0), x_dir=(1, 0, 0), z_dir=(0, 0, -1))):
        Polygon((-60.3749344297, 66.5087660603), (-71.5498028151, 55.3338976749), (-71.5498028151, 39.5302472464), (-60.3749344297, 28.355378861), (-44.5712840013, 28.355378861), (-33.3964156159, 39.5302472464), (-33.3964156159, 55.3338976749), (-44.5712840013, 66.5087660603), align=None)
    extrude(amount=F8_DEPTH, taper=F8_TAPER)

    # F9
    f9_openings = [f8.faces().sort_by_distance(p)[0] for p in [
        (-52.473109, -47.432072, -5),
    ]]
    offset(amount=F9_T, openings=f9_openings)


solid = Compound([f1.part, f1b.part, f1c.part, f1d.part, f1e.part, f1f.part, f6.part, f6b.part, f8.part])
